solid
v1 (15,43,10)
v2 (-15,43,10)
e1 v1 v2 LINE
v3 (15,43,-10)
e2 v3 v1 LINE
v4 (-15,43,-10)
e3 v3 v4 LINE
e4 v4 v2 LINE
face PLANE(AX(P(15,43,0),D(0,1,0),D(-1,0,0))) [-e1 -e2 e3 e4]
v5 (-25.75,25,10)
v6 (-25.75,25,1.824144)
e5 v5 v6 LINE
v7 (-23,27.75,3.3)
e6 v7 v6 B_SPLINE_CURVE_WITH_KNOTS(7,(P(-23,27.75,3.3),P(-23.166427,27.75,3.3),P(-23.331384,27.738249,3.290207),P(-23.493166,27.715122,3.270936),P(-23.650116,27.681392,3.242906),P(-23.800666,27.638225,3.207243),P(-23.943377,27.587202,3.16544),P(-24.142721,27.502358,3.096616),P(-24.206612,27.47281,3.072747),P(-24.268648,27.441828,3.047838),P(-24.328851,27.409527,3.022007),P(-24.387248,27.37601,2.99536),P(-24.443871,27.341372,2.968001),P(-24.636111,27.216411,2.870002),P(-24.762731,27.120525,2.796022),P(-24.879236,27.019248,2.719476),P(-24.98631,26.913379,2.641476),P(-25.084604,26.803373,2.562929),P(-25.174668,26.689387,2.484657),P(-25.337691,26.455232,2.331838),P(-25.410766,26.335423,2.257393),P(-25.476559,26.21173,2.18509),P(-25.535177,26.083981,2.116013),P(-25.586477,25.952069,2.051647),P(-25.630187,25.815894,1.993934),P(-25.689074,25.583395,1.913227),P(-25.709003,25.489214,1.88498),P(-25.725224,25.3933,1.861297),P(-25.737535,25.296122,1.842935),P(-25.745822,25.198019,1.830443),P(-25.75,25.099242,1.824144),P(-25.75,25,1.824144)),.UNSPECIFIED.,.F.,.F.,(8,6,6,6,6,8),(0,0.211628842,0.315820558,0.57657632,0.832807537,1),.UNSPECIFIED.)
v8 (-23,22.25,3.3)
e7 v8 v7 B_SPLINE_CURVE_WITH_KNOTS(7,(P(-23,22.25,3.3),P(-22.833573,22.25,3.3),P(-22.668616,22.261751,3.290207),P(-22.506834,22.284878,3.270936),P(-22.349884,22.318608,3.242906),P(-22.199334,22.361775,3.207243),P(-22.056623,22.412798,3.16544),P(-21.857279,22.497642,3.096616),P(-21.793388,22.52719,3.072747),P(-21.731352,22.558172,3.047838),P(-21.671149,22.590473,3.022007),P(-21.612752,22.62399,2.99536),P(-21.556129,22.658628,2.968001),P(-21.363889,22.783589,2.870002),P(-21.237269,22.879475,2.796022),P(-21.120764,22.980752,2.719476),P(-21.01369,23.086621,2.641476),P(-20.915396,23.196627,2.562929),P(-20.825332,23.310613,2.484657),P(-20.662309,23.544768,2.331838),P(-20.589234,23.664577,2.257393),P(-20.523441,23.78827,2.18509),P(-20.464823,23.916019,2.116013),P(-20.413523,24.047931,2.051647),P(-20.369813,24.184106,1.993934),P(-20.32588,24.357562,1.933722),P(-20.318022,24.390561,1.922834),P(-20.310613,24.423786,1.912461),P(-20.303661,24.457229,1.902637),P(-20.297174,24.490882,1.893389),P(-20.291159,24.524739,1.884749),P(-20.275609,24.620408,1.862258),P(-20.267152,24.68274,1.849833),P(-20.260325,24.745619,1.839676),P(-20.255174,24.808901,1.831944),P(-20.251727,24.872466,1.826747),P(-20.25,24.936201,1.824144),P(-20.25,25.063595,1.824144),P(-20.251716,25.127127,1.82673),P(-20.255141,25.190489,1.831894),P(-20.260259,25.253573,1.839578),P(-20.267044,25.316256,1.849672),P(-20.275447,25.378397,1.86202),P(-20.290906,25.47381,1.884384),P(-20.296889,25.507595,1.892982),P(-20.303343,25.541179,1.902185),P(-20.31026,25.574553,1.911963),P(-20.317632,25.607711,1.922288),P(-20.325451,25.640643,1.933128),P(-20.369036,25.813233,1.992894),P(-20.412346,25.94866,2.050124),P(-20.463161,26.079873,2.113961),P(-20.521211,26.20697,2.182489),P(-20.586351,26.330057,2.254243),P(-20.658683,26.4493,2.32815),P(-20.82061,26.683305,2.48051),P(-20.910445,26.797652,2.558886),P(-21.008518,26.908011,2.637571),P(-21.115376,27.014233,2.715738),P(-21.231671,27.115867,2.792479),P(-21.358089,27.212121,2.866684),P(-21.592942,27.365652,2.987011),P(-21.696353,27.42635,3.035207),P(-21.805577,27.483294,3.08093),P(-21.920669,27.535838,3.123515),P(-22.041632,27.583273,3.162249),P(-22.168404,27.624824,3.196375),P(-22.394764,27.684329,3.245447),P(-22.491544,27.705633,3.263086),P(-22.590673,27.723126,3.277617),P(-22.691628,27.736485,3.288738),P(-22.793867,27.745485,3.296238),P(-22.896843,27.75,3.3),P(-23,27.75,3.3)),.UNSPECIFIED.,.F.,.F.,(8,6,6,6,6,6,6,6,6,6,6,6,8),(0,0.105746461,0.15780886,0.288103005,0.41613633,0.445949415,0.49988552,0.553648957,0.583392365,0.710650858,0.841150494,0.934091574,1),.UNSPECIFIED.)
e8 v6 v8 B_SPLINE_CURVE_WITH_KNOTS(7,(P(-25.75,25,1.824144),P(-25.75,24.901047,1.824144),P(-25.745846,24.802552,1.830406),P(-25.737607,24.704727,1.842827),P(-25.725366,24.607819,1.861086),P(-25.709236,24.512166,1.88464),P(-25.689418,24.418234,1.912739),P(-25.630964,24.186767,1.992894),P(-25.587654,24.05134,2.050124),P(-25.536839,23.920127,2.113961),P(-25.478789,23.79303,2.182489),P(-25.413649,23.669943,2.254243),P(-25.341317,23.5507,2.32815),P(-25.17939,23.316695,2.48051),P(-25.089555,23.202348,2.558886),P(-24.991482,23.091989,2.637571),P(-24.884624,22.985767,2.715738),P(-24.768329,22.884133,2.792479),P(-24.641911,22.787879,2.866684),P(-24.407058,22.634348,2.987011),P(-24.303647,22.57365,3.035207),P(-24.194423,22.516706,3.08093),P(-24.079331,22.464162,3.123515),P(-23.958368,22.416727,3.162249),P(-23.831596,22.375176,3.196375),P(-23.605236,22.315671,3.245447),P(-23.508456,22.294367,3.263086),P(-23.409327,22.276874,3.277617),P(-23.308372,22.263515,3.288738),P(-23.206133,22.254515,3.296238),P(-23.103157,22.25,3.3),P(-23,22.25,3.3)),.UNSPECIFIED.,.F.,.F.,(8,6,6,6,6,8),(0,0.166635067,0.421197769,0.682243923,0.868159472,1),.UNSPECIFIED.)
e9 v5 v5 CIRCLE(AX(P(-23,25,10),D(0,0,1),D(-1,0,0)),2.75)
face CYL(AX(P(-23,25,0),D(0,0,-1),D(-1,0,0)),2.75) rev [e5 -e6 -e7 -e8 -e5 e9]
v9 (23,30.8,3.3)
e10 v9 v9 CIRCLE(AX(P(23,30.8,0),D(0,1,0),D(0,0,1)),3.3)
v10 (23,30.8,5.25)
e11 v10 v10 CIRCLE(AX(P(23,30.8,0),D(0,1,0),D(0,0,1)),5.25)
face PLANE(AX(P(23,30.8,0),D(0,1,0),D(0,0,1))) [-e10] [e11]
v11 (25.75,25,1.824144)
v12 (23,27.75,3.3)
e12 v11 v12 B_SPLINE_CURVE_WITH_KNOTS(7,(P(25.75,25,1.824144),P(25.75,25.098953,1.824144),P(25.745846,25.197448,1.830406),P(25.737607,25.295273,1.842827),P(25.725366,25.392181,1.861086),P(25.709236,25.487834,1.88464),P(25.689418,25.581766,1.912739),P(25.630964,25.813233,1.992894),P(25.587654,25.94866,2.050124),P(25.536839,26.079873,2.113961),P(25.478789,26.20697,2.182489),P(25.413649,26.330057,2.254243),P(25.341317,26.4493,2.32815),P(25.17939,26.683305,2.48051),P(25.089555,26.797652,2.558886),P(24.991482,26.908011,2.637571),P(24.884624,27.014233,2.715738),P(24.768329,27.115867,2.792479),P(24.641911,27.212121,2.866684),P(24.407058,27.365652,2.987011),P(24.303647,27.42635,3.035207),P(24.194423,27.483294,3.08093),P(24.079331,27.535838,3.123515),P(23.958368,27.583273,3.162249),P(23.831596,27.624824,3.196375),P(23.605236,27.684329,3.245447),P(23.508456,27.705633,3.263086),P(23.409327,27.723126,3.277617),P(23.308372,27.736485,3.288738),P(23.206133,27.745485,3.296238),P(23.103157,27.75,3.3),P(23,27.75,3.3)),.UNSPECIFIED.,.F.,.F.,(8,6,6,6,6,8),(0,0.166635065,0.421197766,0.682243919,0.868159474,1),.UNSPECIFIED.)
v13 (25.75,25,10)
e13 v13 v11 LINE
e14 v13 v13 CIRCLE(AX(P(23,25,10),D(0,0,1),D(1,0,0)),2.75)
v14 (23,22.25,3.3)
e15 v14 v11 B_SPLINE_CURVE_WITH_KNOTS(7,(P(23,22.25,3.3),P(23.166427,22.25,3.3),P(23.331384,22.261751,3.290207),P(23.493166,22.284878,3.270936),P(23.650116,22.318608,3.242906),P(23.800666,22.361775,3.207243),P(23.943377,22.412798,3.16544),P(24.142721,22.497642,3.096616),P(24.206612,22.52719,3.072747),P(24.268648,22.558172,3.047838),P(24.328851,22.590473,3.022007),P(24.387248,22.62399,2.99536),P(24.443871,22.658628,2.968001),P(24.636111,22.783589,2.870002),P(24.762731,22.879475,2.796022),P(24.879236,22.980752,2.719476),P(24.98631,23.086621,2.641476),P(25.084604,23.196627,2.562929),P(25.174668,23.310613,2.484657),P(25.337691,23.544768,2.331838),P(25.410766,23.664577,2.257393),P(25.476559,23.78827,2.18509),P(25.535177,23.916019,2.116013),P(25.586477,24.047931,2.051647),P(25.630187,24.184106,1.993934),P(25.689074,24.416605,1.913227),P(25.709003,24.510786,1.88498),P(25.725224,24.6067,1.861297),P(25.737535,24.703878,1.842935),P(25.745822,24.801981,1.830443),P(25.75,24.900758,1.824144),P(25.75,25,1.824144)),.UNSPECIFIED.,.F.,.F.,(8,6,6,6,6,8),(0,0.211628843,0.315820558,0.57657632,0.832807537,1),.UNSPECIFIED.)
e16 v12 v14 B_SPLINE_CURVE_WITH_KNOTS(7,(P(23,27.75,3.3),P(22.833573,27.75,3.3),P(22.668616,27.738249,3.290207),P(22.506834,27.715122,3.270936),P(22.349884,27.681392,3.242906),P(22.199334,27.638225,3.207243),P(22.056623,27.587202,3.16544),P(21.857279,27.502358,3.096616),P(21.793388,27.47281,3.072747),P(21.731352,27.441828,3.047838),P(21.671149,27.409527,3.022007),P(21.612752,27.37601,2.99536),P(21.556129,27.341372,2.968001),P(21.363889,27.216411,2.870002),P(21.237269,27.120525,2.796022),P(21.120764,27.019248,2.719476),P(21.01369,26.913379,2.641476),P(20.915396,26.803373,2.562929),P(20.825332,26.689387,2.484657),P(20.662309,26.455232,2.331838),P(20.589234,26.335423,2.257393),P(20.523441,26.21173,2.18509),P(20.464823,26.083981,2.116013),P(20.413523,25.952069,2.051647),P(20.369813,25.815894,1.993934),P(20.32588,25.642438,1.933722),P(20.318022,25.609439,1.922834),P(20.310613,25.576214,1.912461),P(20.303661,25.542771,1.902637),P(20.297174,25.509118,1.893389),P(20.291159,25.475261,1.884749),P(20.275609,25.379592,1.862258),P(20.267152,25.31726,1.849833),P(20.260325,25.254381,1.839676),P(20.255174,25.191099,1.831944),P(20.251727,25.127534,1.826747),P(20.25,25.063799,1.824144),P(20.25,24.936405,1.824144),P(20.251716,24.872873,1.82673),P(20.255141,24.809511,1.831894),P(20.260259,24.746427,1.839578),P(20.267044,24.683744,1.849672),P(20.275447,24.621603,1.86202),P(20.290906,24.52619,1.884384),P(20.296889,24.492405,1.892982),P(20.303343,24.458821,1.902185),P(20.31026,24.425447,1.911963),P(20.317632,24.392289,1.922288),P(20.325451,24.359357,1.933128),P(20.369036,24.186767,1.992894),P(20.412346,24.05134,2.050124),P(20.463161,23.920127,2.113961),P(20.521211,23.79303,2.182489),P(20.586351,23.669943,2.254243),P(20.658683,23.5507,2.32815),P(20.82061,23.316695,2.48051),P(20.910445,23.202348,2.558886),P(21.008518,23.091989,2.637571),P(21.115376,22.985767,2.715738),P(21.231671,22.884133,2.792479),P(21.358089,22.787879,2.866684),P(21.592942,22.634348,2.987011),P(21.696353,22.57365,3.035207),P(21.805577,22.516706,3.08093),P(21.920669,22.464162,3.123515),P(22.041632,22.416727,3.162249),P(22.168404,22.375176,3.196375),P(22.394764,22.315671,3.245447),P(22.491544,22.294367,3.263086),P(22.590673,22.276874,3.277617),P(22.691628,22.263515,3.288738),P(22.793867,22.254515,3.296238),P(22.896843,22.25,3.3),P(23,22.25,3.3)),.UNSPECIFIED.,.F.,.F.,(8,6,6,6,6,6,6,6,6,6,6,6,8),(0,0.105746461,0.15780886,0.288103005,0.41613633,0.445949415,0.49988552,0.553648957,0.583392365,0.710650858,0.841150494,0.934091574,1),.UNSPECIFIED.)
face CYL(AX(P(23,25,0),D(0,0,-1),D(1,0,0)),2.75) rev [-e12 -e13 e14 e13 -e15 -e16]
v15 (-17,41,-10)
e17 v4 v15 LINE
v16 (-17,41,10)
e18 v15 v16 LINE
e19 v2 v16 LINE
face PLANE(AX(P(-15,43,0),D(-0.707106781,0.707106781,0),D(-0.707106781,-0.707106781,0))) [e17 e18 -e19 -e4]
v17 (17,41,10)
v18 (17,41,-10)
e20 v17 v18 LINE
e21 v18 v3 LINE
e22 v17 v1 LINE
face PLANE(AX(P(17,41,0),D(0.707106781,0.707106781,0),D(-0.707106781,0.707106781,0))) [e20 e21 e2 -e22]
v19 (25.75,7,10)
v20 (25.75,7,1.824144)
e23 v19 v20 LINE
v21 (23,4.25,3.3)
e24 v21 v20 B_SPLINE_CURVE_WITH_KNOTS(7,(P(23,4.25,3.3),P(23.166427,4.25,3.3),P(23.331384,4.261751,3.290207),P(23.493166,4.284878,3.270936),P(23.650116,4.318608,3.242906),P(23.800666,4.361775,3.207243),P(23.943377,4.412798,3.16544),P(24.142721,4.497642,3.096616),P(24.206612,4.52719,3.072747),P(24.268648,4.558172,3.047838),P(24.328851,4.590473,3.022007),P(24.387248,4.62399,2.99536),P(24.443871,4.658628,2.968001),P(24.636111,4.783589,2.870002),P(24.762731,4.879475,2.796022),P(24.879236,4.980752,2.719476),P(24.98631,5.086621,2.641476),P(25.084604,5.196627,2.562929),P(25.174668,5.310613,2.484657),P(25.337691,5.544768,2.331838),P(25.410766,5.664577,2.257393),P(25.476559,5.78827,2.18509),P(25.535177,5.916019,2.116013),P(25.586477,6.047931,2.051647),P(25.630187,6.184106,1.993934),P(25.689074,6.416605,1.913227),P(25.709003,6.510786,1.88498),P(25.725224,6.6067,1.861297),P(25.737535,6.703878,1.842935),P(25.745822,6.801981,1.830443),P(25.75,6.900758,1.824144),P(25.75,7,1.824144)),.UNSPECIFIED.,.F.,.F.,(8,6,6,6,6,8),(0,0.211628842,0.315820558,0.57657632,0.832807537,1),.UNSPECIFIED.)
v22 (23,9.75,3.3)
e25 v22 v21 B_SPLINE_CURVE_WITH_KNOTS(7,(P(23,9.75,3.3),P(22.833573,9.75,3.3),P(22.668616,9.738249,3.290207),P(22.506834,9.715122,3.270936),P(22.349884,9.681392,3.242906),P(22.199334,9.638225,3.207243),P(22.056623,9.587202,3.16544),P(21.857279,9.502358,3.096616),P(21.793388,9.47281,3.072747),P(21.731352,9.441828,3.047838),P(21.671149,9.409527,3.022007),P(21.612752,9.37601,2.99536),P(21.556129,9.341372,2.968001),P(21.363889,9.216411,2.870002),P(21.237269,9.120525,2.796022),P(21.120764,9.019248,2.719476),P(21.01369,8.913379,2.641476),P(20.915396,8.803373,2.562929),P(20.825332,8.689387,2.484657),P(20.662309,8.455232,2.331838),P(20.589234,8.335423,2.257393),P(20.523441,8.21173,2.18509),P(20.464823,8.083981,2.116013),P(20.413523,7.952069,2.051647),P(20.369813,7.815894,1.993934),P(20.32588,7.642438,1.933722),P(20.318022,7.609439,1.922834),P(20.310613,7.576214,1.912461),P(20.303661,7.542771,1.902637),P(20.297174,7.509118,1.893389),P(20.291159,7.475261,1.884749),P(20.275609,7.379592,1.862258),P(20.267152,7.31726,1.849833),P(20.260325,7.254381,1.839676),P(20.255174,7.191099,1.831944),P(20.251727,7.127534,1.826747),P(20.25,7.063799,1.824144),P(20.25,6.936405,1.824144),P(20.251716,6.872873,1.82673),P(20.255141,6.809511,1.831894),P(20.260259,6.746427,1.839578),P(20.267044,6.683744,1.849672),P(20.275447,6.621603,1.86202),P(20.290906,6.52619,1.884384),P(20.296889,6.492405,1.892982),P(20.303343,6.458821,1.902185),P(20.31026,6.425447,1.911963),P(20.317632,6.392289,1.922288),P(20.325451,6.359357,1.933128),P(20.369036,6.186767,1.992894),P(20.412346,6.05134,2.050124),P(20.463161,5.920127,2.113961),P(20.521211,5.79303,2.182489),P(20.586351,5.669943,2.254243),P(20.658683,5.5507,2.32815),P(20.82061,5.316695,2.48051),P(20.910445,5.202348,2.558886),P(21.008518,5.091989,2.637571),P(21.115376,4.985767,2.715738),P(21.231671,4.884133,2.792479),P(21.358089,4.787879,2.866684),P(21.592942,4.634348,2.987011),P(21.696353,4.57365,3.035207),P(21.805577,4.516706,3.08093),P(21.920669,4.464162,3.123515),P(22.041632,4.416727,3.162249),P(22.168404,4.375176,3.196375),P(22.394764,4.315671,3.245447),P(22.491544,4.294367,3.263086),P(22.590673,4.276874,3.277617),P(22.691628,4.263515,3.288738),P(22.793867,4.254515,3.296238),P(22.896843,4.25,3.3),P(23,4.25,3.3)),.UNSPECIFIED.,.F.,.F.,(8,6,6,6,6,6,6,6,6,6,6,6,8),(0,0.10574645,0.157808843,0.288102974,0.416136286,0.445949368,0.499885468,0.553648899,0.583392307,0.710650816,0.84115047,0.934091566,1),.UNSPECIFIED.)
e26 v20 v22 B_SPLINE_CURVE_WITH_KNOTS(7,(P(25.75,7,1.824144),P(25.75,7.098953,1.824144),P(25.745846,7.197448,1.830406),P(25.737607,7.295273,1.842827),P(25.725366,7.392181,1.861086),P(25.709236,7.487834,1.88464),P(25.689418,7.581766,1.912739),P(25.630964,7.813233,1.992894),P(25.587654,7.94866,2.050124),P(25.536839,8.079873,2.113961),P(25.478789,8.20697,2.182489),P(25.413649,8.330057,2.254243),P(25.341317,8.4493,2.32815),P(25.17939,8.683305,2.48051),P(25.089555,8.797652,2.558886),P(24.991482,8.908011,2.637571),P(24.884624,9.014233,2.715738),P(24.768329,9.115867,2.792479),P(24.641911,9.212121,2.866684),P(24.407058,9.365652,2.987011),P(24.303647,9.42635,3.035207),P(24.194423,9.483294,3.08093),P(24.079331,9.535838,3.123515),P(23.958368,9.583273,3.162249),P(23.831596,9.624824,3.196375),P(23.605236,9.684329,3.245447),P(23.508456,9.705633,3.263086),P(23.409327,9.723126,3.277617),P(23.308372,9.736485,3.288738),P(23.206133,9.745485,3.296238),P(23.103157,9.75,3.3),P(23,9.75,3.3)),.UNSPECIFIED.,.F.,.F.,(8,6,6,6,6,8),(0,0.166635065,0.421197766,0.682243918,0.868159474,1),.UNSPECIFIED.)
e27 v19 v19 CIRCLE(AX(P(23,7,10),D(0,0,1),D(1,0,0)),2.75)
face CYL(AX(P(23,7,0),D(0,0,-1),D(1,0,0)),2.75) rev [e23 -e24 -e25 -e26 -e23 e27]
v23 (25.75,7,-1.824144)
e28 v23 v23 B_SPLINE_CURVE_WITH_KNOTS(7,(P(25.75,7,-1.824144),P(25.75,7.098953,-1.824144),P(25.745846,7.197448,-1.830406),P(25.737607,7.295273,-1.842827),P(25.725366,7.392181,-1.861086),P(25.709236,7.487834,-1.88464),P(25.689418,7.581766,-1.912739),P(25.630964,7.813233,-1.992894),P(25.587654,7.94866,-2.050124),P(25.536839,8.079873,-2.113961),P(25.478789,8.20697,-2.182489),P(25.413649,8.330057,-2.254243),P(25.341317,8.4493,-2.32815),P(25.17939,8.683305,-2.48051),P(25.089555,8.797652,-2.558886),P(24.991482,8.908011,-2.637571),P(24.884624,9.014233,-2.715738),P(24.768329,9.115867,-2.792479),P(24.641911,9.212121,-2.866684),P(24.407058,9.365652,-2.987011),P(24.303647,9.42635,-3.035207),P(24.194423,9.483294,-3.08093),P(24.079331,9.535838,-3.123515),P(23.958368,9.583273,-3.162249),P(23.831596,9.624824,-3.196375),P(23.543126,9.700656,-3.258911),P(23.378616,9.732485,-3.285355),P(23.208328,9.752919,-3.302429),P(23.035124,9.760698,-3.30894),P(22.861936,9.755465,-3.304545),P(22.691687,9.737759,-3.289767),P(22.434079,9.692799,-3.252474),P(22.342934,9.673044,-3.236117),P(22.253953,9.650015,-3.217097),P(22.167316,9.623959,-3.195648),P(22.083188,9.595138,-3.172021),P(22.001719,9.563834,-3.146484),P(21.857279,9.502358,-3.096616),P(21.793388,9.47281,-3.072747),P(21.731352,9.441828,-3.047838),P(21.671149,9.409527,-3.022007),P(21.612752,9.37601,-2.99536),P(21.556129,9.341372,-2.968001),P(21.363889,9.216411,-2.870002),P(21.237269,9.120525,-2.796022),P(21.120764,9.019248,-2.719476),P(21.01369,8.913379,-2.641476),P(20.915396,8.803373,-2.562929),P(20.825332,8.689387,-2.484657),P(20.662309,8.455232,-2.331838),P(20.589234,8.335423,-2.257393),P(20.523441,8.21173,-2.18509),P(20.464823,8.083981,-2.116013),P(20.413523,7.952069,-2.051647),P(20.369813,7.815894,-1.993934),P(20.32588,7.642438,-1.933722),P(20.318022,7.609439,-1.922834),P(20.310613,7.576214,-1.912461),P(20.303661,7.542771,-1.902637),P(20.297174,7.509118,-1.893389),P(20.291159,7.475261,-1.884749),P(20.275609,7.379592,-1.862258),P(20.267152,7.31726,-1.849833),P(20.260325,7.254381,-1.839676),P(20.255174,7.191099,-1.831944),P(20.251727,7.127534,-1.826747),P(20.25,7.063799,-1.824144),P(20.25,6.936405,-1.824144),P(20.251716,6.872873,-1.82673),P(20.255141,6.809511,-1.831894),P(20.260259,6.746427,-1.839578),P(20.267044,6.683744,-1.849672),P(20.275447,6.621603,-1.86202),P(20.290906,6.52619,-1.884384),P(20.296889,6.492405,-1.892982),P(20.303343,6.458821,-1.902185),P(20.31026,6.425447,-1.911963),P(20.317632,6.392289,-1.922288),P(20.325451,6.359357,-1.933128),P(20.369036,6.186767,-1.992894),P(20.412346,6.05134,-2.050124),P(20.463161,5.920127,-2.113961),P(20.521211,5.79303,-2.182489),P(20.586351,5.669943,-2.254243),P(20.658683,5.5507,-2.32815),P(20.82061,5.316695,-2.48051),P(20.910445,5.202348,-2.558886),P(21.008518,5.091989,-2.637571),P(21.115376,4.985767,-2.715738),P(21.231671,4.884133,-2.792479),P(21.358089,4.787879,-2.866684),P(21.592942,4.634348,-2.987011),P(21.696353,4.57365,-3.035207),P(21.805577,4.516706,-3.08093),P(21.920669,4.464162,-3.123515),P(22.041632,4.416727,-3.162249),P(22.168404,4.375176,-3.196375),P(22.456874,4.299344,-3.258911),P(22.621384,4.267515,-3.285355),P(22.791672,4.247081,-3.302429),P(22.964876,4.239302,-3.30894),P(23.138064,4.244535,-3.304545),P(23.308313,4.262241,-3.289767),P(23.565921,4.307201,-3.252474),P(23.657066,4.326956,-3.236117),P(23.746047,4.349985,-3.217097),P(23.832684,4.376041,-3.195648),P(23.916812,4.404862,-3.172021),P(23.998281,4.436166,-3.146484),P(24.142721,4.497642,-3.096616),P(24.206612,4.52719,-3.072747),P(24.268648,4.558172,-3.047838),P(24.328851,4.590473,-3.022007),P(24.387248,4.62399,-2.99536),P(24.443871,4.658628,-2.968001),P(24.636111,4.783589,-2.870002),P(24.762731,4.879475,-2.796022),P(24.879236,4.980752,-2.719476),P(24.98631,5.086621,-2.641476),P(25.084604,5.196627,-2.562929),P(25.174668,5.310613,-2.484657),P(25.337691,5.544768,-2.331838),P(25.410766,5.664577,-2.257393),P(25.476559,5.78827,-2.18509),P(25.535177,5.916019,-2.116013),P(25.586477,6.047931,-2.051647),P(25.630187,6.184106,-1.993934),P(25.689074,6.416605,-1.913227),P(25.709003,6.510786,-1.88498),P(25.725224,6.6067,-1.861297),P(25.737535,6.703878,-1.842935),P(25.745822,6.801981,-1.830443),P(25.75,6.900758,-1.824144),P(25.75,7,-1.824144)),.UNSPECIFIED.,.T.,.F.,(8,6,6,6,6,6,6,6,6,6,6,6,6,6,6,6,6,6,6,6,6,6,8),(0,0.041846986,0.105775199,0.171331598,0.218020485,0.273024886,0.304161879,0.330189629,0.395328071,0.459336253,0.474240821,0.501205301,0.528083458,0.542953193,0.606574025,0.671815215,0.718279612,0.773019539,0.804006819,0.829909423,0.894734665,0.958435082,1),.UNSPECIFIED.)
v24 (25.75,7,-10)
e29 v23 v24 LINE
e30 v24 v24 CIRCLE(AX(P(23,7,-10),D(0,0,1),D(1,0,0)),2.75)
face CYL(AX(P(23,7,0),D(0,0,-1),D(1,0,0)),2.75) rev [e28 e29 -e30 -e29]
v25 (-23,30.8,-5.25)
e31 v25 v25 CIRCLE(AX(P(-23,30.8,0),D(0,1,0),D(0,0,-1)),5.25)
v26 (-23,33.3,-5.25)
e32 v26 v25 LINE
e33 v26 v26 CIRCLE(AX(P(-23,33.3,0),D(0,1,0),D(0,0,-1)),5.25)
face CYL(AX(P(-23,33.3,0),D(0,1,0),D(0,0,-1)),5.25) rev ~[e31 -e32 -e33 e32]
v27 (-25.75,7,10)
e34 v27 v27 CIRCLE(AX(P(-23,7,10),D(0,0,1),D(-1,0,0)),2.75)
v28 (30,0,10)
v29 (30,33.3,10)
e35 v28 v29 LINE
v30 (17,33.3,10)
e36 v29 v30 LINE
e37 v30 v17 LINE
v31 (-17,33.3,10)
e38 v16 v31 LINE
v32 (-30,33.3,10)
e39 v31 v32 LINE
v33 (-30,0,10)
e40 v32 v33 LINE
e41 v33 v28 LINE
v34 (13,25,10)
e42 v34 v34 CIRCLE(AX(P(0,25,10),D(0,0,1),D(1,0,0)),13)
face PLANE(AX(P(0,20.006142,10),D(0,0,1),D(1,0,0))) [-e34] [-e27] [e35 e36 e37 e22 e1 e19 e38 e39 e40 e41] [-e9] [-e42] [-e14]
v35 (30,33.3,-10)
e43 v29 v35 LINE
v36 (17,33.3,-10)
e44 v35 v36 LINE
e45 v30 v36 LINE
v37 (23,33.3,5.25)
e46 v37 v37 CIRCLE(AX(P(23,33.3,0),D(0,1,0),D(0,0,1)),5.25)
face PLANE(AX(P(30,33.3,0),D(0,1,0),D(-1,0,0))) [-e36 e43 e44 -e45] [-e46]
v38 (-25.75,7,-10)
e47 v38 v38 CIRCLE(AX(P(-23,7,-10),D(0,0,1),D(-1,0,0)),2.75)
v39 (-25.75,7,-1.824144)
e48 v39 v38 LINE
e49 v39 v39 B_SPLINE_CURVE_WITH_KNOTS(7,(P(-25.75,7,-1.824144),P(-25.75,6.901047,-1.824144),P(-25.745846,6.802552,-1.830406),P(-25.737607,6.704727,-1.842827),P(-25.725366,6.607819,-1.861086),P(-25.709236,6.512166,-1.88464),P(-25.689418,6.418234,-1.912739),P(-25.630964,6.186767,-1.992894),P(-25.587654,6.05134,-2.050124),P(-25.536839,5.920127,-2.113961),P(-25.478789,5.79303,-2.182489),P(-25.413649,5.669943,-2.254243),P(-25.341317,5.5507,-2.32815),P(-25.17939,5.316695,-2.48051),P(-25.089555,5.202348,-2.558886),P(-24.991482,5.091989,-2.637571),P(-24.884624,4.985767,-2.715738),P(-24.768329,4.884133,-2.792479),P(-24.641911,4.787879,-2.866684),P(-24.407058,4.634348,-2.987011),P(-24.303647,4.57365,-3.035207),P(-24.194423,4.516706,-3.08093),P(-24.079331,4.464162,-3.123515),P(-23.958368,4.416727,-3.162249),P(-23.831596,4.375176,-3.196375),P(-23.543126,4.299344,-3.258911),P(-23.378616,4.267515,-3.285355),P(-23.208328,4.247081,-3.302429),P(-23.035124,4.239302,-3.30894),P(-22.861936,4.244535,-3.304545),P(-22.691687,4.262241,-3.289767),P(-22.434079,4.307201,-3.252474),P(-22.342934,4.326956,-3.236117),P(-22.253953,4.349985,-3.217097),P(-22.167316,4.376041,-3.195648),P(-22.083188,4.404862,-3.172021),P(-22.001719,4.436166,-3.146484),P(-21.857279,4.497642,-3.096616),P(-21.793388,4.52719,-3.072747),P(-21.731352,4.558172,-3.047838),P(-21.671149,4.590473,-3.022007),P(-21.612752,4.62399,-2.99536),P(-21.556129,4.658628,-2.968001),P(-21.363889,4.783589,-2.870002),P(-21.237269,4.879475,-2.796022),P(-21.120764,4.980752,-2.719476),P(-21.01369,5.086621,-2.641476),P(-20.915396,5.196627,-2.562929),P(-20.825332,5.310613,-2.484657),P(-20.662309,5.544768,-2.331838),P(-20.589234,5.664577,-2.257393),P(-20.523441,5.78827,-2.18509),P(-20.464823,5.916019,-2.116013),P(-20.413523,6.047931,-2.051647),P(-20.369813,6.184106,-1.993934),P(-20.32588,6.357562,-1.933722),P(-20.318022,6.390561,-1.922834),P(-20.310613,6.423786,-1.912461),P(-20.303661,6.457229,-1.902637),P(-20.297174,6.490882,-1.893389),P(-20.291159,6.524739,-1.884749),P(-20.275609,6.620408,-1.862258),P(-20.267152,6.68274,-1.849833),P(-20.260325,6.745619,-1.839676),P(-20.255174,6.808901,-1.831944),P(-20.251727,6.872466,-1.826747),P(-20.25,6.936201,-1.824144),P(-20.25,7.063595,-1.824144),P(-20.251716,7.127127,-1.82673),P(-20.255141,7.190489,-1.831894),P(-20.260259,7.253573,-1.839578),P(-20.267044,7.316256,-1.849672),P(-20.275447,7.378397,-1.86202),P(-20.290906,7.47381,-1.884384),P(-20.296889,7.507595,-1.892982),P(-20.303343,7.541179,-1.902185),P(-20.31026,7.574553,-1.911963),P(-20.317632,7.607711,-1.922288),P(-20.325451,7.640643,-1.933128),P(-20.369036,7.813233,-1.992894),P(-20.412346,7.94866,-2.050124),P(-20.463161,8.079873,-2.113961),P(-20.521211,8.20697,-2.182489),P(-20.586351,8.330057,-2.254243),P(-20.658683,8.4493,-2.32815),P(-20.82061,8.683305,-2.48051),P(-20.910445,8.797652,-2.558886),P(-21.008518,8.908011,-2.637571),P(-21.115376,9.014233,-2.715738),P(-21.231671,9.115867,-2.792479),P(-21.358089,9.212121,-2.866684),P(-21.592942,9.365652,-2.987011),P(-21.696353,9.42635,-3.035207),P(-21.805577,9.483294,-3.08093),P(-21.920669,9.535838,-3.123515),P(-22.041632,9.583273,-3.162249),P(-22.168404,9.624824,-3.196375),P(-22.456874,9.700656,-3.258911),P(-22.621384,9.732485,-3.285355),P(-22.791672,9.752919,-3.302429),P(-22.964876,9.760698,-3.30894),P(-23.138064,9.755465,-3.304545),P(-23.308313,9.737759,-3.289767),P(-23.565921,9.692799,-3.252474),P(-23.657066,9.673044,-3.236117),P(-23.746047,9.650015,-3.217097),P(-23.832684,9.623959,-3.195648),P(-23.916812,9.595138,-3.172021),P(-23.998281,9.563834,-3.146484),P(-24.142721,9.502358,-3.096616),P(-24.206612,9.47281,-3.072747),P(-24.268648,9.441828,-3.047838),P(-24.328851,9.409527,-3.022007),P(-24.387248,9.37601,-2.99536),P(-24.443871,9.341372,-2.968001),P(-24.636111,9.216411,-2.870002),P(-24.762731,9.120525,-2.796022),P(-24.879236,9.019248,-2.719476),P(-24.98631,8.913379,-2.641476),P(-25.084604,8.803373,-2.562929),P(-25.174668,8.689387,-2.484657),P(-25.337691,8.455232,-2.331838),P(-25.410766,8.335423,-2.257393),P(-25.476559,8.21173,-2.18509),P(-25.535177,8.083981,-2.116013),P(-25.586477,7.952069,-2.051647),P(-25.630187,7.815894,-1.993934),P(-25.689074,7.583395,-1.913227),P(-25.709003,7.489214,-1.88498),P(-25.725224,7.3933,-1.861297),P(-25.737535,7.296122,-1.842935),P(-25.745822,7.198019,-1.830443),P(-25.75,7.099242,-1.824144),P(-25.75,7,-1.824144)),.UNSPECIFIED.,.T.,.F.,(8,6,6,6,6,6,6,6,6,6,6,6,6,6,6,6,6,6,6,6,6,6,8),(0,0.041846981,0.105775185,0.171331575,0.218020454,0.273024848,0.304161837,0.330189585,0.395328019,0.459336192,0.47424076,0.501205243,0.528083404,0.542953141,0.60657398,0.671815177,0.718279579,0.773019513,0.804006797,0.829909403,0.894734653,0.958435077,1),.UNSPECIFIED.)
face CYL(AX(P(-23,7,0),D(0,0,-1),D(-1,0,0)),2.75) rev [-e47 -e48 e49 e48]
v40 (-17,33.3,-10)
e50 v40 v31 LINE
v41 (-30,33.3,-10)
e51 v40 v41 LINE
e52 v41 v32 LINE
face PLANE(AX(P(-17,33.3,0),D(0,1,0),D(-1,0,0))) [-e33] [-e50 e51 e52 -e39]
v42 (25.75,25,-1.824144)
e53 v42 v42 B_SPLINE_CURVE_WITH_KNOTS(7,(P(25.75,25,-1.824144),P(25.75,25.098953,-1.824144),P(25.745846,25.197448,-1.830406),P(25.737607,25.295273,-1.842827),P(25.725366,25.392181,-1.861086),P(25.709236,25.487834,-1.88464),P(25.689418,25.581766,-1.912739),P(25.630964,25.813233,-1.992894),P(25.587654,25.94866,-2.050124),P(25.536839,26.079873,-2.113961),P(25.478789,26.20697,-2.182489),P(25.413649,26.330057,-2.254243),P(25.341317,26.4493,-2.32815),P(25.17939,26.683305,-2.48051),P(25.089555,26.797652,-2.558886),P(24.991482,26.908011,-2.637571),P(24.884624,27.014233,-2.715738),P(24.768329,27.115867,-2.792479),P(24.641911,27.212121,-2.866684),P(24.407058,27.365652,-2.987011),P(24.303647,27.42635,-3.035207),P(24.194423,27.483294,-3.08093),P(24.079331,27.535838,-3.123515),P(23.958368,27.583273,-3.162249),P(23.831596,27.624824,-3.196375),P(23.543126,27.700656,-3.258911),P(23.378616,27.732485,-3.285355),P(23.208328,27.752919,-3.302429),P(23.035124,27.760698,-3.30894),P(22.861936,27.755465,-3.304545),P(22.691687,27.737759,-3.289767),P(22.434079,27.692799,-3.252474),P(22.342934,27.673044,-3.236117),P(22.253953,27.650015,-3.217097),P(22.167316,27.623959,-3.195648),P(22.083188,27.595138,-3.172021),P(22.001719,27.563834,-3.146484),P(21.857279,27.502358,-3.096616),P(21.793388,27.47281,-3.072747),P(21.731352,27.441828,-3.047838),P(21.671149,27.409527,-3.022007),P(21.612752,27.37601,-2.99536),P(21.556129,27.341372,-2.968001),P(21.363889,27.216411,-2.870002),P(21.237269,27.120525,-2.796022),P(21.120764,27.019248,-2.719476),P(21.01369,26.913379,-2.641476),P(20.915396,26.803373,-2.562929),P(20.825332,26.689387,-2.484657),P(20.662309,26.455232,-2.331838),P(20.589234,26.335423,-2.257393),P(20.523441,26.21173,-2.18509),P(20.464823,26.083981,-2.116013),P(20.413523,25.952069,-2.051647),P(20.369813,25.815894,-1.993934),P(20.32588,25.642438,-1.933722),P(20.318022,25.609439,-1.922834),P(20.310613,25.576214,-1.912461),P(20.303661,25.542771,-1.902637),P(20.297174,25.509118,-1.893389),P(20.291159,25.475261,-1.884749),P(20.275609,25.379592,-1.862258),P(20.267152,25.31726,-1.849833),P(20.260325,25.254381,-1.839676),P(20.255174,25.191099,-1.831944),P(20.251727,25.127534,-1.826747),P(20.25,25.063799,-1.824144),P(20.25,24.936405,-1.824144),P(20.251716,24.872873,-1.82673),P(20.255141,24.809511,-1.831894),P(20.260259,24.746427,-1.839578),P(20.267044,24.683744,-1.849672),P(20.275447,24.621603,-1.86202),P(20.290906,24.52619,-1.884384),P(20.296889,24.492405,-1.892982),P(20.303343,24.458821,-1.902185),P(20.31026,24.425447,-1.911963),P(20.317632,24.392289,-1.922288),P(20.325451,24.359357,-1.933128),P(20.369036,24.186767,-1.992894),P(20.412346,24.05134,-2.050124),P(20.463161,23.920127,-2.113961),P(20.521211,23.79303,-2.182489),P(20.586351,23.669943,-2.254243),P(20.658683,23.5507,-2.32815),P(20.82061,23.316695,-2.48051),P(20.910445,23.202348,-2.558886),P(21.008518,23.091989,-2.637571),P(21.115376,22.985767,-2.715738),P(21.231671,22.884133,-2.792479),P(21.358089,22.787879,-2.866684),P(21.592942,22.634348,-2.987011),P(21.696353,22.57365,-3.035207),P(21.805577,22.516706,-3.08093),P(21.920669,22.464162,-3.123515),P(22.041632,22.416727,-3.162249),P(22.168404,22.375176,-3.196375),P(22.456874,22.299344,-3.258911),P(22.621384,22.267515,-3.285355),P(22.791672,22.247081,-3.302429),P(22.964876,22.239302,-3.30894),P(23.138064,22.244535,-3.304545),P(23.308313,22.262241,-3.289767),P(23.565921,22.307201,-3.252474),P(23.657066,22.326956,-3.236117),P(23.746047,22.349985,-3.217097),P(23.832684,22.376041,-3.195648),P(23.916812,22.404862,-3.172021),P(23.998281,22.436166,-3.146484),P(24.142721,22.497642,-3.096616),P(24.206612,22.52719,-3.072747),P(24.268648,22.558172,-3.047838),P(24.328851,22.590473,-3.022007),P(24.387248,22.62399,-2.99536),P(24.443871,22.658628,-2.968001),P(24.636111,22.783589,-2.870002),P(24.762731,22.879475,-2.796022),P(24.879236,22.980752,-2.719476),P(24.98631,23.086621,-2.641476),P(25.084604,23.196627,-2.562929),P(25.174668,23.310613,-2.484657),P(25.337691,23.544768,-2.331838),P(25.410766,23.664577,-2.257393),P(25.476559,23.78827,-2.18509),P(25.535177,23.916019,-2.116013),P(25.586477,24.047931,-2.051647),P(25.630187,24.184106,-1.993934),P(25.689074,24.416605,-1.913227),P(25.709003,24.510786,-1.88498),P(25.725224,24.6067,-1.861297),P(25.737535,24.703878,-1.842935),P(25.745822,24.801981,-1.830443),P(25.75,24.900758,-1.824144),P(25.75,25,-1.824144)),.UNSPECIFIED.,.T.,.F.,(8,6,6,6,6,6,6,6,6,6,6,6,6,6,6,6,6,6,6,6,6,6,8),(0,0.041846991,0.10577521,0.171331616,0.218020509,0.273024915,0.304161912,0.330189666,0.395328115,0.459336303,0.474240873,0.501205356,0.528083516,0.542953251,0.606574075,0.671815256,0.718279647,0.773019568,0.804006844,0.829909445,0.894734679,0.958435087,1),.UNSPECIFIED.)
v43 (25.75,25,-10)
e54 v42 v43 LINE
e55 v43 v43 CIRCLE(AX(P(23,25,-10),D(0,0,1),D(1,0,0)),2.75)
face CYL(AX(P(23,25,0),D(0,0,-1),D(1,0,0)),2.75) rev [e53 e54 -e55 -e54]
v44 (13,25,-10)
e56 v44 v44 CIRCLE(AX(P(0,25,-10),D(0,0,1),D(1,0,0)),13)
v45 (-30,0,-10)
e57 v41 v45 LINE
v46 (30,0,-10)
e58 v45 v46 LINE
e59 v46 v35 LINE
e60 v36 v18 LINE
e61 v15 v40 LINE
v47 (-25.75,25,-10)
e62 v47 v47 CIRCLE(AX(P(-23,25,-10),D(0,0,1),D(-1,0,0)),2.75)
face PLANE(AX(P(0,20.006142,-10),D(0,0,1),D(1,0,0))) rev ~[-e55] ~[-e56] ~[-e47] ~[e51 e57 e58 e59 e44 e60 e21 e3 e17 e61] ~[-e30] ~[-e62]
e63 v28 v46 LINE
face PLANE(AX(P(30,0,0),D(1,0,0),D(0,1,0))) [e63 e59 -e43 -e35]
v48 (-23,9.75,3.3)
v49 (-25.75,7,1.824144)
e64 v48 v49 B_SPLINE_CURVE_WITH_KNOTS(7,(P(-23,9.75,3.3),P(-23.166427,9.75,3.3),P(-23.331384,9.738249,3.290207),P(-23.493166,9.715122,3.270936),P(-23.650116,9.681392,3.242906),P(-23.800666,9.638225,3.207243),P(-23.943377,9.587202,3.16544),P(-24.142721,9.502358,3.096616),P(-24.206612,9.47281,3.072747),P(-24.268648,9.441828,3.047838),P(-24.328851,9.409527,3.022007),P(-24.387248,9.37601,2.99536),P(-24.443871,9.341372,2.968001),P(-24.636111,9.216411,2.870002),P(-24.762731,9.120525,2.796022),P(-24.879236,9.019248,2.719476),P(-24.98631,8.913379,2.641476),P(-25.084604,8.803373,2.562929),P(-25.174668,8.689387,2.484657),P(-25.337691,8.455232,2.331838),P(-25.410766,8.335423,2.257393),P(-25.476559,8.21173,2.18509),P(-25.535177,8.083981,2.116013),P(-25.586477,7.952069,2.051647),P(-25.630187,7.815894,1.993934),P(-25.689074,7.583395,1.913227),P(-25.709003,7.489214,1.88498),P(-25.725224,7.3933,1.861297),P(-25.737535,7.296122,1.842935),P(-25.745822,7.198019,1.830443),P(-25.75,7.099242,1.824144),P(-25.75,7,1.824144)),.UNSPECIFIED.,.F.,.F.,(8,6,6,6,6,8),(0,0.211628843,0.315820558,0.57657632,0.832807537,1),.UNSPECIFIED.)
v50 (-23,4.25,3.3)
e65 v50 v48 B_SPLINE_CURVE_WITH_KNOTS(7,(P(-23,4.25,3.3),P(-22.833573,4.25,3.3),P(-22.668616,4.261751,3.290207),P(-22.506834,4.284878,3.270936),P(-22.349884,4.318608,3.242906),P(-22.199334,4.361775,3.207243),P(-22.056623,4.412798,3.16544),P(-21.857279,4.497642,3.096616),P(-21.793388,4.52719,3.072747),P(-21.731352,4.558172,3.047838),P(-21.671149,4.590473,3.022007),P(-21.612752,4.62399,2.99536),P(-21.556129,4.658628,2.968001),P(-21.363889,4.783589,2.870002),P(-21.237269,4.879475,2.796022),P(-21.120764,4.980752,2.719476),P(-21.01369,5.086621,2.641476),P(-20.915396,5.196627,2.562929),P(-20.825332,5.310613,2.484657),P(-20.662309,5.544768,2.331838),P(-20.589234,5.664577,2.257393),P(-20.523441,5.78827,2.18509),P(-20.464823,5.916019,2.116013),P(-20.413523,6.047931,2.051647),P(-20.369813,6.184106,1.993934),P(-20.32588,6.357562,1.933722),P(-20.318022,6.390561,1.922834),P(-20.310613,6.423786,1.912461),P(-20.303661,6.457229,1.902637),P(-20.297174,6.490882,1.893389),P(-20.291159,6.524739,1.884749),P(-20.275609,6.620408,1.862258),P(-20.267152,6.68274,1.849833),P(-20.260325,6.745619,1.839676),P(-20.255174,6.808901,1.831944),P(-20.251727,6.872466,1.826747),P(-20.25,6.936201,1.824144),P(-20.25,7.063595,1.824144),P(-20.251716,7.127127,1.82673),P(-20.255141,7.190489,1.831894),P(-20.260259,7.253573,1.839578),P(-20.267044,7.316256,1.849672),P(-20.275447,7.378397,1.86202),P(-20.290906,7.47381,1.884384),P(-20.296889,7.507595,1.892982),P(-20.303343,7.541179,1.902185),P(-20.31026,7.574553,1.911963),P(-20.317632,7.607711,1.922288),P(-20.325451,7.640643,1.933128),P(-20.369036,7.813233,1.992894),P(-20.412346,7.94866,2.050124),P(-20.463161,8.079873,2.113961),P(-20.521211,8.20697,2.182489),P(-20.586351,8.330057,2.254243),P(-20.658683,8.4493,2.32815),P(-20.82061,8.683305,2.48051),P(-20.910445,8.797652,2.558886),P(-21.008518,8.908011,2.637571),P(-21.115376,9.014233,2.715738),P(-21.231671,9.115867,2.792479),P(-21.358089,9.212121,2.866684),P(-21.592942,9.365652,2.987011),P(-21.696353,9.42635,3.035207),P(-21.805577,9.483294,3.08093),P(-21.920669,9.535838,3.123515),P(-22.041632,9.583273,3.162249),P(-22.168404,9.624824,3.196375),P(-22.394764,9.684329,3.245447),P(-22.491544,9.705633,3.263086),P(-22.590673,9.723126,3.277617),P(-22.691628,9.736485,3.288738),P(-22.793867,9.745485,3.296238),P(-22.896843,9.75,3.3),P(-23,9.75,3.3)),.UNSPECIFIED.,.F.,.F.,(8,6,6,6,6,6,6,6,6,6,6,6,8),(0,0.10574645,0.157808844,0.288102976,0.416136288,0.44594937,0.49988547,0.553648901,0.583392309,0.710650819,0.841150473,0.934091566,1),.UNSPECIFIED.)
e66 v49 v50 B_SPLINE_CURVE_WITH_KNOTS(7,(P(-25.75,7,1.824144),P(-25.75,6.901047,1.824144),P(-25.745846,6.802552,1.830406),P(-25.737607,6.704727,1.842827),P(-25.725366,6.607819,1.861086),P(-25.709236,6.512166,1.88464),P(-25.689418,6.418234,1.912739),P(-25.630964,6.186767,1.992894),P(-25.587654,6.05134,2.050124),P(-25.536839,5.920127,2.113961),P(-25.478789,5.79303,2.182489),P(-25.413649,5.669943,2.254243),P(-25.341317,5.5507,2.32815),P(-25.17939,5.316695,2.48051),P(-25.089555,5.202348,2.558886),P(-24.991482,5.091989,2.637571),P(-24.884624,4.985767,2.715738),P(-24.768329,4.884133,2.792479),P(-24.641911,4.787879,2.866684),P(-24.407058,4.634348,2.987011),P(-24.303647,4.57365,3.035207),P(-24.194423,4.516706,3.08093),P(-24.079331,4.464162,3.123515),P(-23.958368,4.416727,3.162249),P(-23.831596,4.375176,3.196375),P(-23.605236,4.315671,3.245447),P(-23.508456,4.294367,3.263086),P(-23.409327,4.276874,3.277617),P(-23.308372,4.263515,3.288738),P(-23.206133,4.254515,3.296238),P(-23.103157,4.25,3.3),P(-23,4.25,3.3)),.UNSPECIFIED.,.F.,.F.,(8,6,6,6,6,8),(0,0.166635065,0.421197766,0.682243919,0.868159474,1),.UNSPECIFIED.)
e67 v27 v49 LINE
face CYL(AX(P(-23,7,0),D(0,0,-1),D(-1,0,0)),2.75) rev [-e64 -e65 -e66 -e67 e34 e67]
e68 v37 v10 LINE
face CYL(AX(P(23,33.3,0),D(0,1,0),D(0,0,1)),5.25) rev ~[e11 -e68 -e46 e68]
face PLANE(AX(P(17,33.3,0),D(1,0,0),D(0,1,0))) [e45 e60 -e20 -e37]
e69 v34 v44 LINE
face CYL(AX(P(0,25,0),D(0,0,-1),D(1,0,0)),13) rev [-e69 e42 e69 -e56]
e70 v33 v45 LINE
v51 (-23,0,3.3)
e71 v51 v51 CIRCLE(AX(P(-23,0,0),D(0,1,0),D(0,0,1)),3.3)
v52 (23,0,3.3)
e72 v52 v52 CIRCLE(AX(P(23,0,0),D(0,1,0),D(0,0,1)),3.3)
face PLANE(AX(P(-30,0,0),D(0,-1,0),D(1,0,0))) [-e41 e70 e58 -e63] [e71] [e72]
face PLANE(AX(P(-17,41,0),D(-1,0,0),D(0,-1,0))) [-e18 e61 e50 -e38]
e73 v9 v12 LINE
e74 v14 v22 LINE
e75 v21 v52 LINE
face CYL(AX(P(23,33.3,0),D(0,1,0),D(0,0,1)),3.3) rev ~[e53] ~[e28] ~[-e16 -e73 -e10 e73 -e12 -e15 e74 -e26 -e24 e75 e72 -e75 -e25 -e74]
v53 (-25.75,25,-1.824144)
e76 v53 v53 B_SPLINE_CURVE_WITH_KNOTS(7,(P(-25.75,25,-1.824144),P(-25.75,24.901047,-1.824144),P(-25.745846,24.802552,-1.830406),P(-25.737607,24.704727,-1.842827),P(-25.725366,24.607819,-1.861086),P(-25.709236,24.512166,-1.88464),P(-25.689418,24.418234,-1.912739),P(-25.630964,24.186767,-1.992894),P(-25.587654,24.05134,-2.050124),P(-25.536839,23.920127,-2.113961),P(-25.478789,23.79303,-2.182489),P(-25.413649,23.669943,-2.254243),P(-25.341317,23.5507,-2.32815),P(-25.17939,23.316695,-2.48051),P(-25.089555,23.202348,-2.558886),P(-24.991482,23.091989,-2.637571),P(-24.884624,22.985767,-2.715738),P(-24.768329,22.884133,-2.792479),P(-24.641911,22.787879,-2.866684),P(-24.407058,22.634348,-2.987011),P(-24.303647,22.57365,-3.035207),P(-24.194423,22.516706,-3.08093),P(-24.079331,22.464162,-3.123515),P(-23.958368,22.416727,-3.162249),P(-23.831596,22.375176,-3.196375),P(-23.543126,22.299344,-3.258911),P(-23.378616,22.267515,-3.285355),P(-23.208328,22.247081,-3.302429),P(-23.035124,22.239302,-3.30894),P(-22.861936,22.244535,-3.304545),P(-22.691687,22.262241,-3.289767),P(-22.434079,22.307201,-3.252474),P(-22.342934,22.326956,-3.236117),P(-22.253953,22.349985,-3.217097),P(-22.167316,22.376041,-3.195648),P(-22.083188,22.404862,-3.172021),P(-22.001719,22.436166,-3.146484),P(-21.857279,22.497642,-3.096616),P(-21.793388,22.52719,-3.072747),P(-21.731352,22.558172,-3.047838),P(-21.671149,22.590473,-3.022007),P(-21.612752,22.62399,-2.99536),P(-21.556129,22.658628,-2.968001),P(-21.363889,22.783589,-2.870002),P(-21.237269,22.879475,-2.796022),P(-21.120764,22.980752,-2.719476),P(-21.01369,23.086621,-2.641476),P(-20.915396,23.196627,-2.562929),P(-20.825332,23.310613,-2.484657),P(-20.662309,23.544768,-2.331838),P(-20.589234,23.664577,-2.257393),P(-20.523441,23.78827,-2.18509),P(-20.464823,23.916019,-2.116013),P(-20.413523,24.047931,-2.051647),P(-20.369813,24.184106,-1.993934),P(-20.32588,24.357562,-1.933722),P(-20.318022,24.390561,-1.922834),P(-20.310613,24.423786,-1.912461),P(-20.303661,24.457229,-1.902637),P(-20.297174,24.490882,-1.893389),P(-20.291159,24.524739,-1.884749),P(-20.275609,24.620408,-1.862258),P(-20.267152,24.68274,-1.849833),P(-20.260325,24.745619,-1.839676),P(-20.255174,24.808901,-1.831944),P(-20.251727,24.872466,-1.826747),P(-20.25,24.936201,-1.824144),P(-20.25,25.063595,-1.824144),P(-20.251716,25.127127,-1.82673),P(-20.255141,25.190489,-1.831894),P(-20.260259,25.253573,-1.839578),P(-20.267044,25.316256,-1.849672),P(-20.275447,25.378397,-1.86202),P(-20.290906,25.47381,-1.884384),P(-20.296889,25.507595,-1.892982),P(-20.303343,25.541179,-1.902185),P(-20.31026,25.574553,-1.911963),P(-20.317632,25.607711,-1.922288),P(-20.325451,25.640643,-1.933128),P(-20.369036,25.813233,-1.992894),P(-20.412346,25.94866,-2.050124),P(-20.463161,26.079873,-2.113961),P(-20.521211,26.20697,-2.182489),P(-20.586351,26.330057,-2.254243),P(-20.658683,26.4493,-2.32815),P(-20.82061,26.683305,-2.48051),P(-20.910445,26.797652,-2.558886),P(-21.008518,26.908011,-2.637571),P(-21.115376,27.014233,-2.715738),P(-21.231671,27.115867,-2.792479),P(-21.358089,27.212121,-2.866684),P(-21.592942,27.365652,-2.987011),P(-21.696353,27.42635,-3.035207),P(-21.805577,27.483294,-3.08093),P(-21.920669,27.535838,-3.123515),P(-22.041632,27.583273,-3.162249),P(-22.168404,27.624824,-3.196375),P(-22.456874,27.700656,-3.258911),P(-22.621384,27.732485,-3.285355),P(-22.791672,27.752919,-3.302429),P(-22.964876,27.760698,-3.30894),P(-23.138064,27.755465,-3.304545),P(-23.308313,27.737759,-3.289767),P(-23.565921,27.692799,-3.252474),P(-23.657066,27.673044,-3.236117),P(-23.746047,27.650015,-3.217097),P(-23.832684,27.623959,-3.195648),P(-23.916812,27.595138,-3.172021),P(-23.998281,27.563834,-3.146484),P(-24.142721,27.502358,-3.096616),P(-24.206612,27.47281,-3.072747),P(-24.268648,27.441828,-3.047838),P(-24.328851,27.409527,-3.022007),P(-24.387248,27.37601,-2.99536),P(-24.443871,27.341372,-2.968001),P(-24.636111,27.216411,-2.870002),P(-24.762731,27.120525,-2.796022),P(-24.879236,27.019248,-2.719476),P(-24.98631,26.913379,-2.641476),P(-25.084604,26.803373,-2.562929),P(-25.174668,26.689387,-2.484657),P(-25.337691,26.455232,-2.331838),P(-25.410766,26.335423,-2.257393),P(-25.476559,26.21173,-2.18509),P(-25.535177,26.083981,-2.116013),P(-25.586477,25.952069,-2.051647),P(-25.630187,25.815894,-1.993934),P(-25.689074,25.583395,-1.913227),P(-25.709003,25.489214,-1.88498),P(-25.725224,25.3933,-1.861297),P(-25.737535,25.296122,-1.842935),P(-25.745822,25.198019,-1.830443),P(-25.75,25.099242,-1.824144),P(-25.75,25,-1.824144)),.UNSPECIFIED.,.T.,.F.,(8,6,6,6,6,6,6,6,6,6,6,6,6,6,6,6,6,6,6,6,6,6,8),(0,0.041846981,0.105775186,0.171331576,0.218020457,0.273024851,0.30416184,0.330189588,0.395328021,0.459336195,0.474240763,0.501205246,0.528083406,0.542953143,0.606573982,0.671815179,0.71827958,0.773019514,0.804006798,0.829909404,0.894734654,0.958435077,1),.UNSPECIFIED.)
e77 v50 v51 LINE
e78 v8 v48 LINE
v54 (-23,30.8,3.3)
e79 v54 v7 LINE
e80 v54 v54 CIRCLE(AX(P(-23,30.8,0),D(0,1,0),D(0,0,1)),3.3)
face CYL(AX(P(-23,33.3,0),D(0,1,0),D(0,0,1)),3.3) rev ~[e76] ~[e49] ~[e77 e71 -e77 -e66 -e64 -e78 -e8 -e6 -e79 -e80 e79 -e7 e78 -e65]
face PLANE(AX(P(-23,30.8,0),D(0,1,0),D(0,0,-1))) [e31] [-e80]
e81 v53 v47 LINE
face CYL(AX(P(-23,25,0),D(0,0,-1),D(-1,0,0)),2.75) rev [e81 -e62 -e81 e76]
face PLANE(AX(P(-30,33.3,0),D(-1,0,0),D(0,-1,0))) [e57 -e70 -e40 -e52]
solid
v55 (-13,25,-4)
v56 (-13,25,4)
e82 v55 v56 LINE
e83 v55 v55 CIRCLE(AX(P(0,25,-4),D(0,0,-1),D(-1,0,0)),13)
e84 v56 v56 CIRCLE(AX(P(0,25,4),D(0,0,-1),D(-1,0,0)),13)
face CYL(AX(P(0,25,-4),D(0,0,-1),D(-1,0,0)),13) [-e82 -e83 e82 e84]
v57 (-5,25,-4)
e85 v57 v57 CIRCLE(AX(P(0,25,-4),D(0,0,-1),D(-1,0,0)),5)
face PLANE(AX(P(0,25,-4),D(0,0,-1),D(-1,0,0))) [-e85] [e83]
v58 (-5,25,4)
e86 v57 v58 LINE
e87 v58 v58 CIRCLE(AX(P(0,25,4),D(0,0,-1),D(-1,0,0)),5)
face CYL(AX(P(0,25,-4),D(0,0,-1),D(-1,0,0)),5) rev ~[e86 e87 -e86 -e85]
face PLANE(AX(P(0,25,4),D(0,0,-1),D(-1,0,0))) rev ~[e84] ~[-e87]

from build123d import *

# Parameters (mm, degrees)
SKIZZE1_R                       = 13
SKIZZE1_R_2                     = 2.75
AUFSATZ_LINEAR_AUSTRAGEN1_DEPTH = 10
AUFSATZ_LINEAR_START            = -6
SKIZZE2_R                       = 13
SKIZZE2_R_2                     = 5
AUFSATZ_LINEAR_AUSTRAGEN2_DEPTH = 8
SKIZZE3_R                       = 3.3
SCHNITT_LINEAR_AUSTRAGEN1_DEPTH = 60
SKIZZE4_R                       = 5.25
SCHNITT_LINEAR_AUSTRAGEN2_DEPTH = 2.5


with BuildPart() as part:
    # Skizze1 → Aufsatz-Linear austragen1 (new, symmetric)
    with BuildSketch(Plane.XY):
        Polygon((17, 41), (15, 43), (-15, 43), (-17, 41), (-17, 33.3), (-30, 33.3), (-30, 0), (30, 0), (30, 33.3), (17, 33.3), align=None)
        with Locations((0, 25)):
            Circle(SKIZZE1_R, mode=Mode.SUBTRACT)
        with Locations((23, 25)):
            Circle(SKIZZE1_R_2, mode=Mode.SUBTRACT)
        with Locations((23, 7)):
            Circle(SKIZZE1_R_2, mode=Mode.SUBTRACT)
        with Locations(Location((-23, 25, 0), (0, 0, 180))):
            Circle(SKIZZE1_R_2, mode=Mode.SUBTRACT)
        with Locations(Location((-23, 7, 0), (0, 0, 180))):
            Circle(SKIZZE1_R_2, mode=Mode.SUBTRACT)
    extrude(amount=AUFSATZ_LINEAR_AUSTRAGEN1_DEPTH, both=True)

    # Skizze3 → Schnitt-Linear austragen1 (cut)
    with BuildSketch(Plane(origin=(0, 33.3, 0), x_dir=(1, 0, 0), z_dir=(0, 1, 0))):
        with Locations(Location((23, 0, 0), (0, 0, 270))):
            Circle(SKIZZE3_R)
        with Locations(Location((-23, 0, 0), (0, 0, 270))):
            Circle(SKIZZE3_R)
    extrude(amount=-SCHNITT_LINEAR_AUSTRAGEN1_DEPTH, mode=Mode.SUBTRACT)

    # Skizze4 → Schnitt-Linear austragen2 (cut)
    with BuildSketch(Plane(origin=(0, 33.3, 0), x_dir=(1, 0, 0), z_dir=(0, 1, 0))):
        with Locations(Location((23, 0, 0), (0, 0, 270))):
            Circle(SKIZZE4_R)
        with Locations(Location((-23, 0, 0), (0, 0, 90))):
            Circle(SKIZZE4_R)
    extrude(amount=-SCHNITT_LINEAR_AUSTRAGEN2_DEPTH, mode=Mode.SUBTRACT)


with BuildPart() as body_2:
    # Skizze2 → Aufsatz-Linear austragen2 (new body)
    with BuildSketch(Plane(origin=(0, 0, -10), x_dir=(-1, 0, 0), z_dir=(0, 0, -1)).offset(AUFSATZ_LINEAR_START)):
        with Locations((0, 25)):
            Circle(SKIZZE2_R)
        with Locations((0, 25)):
            Circle(SKIZZE2_R_2, mode=Mode.SUBTRACT)
    extrude(amount=-AUFSATZ_LINEAR_AUSTRAGEN2_DEPTH)


solid = Compound([part.part, body_2.part])
